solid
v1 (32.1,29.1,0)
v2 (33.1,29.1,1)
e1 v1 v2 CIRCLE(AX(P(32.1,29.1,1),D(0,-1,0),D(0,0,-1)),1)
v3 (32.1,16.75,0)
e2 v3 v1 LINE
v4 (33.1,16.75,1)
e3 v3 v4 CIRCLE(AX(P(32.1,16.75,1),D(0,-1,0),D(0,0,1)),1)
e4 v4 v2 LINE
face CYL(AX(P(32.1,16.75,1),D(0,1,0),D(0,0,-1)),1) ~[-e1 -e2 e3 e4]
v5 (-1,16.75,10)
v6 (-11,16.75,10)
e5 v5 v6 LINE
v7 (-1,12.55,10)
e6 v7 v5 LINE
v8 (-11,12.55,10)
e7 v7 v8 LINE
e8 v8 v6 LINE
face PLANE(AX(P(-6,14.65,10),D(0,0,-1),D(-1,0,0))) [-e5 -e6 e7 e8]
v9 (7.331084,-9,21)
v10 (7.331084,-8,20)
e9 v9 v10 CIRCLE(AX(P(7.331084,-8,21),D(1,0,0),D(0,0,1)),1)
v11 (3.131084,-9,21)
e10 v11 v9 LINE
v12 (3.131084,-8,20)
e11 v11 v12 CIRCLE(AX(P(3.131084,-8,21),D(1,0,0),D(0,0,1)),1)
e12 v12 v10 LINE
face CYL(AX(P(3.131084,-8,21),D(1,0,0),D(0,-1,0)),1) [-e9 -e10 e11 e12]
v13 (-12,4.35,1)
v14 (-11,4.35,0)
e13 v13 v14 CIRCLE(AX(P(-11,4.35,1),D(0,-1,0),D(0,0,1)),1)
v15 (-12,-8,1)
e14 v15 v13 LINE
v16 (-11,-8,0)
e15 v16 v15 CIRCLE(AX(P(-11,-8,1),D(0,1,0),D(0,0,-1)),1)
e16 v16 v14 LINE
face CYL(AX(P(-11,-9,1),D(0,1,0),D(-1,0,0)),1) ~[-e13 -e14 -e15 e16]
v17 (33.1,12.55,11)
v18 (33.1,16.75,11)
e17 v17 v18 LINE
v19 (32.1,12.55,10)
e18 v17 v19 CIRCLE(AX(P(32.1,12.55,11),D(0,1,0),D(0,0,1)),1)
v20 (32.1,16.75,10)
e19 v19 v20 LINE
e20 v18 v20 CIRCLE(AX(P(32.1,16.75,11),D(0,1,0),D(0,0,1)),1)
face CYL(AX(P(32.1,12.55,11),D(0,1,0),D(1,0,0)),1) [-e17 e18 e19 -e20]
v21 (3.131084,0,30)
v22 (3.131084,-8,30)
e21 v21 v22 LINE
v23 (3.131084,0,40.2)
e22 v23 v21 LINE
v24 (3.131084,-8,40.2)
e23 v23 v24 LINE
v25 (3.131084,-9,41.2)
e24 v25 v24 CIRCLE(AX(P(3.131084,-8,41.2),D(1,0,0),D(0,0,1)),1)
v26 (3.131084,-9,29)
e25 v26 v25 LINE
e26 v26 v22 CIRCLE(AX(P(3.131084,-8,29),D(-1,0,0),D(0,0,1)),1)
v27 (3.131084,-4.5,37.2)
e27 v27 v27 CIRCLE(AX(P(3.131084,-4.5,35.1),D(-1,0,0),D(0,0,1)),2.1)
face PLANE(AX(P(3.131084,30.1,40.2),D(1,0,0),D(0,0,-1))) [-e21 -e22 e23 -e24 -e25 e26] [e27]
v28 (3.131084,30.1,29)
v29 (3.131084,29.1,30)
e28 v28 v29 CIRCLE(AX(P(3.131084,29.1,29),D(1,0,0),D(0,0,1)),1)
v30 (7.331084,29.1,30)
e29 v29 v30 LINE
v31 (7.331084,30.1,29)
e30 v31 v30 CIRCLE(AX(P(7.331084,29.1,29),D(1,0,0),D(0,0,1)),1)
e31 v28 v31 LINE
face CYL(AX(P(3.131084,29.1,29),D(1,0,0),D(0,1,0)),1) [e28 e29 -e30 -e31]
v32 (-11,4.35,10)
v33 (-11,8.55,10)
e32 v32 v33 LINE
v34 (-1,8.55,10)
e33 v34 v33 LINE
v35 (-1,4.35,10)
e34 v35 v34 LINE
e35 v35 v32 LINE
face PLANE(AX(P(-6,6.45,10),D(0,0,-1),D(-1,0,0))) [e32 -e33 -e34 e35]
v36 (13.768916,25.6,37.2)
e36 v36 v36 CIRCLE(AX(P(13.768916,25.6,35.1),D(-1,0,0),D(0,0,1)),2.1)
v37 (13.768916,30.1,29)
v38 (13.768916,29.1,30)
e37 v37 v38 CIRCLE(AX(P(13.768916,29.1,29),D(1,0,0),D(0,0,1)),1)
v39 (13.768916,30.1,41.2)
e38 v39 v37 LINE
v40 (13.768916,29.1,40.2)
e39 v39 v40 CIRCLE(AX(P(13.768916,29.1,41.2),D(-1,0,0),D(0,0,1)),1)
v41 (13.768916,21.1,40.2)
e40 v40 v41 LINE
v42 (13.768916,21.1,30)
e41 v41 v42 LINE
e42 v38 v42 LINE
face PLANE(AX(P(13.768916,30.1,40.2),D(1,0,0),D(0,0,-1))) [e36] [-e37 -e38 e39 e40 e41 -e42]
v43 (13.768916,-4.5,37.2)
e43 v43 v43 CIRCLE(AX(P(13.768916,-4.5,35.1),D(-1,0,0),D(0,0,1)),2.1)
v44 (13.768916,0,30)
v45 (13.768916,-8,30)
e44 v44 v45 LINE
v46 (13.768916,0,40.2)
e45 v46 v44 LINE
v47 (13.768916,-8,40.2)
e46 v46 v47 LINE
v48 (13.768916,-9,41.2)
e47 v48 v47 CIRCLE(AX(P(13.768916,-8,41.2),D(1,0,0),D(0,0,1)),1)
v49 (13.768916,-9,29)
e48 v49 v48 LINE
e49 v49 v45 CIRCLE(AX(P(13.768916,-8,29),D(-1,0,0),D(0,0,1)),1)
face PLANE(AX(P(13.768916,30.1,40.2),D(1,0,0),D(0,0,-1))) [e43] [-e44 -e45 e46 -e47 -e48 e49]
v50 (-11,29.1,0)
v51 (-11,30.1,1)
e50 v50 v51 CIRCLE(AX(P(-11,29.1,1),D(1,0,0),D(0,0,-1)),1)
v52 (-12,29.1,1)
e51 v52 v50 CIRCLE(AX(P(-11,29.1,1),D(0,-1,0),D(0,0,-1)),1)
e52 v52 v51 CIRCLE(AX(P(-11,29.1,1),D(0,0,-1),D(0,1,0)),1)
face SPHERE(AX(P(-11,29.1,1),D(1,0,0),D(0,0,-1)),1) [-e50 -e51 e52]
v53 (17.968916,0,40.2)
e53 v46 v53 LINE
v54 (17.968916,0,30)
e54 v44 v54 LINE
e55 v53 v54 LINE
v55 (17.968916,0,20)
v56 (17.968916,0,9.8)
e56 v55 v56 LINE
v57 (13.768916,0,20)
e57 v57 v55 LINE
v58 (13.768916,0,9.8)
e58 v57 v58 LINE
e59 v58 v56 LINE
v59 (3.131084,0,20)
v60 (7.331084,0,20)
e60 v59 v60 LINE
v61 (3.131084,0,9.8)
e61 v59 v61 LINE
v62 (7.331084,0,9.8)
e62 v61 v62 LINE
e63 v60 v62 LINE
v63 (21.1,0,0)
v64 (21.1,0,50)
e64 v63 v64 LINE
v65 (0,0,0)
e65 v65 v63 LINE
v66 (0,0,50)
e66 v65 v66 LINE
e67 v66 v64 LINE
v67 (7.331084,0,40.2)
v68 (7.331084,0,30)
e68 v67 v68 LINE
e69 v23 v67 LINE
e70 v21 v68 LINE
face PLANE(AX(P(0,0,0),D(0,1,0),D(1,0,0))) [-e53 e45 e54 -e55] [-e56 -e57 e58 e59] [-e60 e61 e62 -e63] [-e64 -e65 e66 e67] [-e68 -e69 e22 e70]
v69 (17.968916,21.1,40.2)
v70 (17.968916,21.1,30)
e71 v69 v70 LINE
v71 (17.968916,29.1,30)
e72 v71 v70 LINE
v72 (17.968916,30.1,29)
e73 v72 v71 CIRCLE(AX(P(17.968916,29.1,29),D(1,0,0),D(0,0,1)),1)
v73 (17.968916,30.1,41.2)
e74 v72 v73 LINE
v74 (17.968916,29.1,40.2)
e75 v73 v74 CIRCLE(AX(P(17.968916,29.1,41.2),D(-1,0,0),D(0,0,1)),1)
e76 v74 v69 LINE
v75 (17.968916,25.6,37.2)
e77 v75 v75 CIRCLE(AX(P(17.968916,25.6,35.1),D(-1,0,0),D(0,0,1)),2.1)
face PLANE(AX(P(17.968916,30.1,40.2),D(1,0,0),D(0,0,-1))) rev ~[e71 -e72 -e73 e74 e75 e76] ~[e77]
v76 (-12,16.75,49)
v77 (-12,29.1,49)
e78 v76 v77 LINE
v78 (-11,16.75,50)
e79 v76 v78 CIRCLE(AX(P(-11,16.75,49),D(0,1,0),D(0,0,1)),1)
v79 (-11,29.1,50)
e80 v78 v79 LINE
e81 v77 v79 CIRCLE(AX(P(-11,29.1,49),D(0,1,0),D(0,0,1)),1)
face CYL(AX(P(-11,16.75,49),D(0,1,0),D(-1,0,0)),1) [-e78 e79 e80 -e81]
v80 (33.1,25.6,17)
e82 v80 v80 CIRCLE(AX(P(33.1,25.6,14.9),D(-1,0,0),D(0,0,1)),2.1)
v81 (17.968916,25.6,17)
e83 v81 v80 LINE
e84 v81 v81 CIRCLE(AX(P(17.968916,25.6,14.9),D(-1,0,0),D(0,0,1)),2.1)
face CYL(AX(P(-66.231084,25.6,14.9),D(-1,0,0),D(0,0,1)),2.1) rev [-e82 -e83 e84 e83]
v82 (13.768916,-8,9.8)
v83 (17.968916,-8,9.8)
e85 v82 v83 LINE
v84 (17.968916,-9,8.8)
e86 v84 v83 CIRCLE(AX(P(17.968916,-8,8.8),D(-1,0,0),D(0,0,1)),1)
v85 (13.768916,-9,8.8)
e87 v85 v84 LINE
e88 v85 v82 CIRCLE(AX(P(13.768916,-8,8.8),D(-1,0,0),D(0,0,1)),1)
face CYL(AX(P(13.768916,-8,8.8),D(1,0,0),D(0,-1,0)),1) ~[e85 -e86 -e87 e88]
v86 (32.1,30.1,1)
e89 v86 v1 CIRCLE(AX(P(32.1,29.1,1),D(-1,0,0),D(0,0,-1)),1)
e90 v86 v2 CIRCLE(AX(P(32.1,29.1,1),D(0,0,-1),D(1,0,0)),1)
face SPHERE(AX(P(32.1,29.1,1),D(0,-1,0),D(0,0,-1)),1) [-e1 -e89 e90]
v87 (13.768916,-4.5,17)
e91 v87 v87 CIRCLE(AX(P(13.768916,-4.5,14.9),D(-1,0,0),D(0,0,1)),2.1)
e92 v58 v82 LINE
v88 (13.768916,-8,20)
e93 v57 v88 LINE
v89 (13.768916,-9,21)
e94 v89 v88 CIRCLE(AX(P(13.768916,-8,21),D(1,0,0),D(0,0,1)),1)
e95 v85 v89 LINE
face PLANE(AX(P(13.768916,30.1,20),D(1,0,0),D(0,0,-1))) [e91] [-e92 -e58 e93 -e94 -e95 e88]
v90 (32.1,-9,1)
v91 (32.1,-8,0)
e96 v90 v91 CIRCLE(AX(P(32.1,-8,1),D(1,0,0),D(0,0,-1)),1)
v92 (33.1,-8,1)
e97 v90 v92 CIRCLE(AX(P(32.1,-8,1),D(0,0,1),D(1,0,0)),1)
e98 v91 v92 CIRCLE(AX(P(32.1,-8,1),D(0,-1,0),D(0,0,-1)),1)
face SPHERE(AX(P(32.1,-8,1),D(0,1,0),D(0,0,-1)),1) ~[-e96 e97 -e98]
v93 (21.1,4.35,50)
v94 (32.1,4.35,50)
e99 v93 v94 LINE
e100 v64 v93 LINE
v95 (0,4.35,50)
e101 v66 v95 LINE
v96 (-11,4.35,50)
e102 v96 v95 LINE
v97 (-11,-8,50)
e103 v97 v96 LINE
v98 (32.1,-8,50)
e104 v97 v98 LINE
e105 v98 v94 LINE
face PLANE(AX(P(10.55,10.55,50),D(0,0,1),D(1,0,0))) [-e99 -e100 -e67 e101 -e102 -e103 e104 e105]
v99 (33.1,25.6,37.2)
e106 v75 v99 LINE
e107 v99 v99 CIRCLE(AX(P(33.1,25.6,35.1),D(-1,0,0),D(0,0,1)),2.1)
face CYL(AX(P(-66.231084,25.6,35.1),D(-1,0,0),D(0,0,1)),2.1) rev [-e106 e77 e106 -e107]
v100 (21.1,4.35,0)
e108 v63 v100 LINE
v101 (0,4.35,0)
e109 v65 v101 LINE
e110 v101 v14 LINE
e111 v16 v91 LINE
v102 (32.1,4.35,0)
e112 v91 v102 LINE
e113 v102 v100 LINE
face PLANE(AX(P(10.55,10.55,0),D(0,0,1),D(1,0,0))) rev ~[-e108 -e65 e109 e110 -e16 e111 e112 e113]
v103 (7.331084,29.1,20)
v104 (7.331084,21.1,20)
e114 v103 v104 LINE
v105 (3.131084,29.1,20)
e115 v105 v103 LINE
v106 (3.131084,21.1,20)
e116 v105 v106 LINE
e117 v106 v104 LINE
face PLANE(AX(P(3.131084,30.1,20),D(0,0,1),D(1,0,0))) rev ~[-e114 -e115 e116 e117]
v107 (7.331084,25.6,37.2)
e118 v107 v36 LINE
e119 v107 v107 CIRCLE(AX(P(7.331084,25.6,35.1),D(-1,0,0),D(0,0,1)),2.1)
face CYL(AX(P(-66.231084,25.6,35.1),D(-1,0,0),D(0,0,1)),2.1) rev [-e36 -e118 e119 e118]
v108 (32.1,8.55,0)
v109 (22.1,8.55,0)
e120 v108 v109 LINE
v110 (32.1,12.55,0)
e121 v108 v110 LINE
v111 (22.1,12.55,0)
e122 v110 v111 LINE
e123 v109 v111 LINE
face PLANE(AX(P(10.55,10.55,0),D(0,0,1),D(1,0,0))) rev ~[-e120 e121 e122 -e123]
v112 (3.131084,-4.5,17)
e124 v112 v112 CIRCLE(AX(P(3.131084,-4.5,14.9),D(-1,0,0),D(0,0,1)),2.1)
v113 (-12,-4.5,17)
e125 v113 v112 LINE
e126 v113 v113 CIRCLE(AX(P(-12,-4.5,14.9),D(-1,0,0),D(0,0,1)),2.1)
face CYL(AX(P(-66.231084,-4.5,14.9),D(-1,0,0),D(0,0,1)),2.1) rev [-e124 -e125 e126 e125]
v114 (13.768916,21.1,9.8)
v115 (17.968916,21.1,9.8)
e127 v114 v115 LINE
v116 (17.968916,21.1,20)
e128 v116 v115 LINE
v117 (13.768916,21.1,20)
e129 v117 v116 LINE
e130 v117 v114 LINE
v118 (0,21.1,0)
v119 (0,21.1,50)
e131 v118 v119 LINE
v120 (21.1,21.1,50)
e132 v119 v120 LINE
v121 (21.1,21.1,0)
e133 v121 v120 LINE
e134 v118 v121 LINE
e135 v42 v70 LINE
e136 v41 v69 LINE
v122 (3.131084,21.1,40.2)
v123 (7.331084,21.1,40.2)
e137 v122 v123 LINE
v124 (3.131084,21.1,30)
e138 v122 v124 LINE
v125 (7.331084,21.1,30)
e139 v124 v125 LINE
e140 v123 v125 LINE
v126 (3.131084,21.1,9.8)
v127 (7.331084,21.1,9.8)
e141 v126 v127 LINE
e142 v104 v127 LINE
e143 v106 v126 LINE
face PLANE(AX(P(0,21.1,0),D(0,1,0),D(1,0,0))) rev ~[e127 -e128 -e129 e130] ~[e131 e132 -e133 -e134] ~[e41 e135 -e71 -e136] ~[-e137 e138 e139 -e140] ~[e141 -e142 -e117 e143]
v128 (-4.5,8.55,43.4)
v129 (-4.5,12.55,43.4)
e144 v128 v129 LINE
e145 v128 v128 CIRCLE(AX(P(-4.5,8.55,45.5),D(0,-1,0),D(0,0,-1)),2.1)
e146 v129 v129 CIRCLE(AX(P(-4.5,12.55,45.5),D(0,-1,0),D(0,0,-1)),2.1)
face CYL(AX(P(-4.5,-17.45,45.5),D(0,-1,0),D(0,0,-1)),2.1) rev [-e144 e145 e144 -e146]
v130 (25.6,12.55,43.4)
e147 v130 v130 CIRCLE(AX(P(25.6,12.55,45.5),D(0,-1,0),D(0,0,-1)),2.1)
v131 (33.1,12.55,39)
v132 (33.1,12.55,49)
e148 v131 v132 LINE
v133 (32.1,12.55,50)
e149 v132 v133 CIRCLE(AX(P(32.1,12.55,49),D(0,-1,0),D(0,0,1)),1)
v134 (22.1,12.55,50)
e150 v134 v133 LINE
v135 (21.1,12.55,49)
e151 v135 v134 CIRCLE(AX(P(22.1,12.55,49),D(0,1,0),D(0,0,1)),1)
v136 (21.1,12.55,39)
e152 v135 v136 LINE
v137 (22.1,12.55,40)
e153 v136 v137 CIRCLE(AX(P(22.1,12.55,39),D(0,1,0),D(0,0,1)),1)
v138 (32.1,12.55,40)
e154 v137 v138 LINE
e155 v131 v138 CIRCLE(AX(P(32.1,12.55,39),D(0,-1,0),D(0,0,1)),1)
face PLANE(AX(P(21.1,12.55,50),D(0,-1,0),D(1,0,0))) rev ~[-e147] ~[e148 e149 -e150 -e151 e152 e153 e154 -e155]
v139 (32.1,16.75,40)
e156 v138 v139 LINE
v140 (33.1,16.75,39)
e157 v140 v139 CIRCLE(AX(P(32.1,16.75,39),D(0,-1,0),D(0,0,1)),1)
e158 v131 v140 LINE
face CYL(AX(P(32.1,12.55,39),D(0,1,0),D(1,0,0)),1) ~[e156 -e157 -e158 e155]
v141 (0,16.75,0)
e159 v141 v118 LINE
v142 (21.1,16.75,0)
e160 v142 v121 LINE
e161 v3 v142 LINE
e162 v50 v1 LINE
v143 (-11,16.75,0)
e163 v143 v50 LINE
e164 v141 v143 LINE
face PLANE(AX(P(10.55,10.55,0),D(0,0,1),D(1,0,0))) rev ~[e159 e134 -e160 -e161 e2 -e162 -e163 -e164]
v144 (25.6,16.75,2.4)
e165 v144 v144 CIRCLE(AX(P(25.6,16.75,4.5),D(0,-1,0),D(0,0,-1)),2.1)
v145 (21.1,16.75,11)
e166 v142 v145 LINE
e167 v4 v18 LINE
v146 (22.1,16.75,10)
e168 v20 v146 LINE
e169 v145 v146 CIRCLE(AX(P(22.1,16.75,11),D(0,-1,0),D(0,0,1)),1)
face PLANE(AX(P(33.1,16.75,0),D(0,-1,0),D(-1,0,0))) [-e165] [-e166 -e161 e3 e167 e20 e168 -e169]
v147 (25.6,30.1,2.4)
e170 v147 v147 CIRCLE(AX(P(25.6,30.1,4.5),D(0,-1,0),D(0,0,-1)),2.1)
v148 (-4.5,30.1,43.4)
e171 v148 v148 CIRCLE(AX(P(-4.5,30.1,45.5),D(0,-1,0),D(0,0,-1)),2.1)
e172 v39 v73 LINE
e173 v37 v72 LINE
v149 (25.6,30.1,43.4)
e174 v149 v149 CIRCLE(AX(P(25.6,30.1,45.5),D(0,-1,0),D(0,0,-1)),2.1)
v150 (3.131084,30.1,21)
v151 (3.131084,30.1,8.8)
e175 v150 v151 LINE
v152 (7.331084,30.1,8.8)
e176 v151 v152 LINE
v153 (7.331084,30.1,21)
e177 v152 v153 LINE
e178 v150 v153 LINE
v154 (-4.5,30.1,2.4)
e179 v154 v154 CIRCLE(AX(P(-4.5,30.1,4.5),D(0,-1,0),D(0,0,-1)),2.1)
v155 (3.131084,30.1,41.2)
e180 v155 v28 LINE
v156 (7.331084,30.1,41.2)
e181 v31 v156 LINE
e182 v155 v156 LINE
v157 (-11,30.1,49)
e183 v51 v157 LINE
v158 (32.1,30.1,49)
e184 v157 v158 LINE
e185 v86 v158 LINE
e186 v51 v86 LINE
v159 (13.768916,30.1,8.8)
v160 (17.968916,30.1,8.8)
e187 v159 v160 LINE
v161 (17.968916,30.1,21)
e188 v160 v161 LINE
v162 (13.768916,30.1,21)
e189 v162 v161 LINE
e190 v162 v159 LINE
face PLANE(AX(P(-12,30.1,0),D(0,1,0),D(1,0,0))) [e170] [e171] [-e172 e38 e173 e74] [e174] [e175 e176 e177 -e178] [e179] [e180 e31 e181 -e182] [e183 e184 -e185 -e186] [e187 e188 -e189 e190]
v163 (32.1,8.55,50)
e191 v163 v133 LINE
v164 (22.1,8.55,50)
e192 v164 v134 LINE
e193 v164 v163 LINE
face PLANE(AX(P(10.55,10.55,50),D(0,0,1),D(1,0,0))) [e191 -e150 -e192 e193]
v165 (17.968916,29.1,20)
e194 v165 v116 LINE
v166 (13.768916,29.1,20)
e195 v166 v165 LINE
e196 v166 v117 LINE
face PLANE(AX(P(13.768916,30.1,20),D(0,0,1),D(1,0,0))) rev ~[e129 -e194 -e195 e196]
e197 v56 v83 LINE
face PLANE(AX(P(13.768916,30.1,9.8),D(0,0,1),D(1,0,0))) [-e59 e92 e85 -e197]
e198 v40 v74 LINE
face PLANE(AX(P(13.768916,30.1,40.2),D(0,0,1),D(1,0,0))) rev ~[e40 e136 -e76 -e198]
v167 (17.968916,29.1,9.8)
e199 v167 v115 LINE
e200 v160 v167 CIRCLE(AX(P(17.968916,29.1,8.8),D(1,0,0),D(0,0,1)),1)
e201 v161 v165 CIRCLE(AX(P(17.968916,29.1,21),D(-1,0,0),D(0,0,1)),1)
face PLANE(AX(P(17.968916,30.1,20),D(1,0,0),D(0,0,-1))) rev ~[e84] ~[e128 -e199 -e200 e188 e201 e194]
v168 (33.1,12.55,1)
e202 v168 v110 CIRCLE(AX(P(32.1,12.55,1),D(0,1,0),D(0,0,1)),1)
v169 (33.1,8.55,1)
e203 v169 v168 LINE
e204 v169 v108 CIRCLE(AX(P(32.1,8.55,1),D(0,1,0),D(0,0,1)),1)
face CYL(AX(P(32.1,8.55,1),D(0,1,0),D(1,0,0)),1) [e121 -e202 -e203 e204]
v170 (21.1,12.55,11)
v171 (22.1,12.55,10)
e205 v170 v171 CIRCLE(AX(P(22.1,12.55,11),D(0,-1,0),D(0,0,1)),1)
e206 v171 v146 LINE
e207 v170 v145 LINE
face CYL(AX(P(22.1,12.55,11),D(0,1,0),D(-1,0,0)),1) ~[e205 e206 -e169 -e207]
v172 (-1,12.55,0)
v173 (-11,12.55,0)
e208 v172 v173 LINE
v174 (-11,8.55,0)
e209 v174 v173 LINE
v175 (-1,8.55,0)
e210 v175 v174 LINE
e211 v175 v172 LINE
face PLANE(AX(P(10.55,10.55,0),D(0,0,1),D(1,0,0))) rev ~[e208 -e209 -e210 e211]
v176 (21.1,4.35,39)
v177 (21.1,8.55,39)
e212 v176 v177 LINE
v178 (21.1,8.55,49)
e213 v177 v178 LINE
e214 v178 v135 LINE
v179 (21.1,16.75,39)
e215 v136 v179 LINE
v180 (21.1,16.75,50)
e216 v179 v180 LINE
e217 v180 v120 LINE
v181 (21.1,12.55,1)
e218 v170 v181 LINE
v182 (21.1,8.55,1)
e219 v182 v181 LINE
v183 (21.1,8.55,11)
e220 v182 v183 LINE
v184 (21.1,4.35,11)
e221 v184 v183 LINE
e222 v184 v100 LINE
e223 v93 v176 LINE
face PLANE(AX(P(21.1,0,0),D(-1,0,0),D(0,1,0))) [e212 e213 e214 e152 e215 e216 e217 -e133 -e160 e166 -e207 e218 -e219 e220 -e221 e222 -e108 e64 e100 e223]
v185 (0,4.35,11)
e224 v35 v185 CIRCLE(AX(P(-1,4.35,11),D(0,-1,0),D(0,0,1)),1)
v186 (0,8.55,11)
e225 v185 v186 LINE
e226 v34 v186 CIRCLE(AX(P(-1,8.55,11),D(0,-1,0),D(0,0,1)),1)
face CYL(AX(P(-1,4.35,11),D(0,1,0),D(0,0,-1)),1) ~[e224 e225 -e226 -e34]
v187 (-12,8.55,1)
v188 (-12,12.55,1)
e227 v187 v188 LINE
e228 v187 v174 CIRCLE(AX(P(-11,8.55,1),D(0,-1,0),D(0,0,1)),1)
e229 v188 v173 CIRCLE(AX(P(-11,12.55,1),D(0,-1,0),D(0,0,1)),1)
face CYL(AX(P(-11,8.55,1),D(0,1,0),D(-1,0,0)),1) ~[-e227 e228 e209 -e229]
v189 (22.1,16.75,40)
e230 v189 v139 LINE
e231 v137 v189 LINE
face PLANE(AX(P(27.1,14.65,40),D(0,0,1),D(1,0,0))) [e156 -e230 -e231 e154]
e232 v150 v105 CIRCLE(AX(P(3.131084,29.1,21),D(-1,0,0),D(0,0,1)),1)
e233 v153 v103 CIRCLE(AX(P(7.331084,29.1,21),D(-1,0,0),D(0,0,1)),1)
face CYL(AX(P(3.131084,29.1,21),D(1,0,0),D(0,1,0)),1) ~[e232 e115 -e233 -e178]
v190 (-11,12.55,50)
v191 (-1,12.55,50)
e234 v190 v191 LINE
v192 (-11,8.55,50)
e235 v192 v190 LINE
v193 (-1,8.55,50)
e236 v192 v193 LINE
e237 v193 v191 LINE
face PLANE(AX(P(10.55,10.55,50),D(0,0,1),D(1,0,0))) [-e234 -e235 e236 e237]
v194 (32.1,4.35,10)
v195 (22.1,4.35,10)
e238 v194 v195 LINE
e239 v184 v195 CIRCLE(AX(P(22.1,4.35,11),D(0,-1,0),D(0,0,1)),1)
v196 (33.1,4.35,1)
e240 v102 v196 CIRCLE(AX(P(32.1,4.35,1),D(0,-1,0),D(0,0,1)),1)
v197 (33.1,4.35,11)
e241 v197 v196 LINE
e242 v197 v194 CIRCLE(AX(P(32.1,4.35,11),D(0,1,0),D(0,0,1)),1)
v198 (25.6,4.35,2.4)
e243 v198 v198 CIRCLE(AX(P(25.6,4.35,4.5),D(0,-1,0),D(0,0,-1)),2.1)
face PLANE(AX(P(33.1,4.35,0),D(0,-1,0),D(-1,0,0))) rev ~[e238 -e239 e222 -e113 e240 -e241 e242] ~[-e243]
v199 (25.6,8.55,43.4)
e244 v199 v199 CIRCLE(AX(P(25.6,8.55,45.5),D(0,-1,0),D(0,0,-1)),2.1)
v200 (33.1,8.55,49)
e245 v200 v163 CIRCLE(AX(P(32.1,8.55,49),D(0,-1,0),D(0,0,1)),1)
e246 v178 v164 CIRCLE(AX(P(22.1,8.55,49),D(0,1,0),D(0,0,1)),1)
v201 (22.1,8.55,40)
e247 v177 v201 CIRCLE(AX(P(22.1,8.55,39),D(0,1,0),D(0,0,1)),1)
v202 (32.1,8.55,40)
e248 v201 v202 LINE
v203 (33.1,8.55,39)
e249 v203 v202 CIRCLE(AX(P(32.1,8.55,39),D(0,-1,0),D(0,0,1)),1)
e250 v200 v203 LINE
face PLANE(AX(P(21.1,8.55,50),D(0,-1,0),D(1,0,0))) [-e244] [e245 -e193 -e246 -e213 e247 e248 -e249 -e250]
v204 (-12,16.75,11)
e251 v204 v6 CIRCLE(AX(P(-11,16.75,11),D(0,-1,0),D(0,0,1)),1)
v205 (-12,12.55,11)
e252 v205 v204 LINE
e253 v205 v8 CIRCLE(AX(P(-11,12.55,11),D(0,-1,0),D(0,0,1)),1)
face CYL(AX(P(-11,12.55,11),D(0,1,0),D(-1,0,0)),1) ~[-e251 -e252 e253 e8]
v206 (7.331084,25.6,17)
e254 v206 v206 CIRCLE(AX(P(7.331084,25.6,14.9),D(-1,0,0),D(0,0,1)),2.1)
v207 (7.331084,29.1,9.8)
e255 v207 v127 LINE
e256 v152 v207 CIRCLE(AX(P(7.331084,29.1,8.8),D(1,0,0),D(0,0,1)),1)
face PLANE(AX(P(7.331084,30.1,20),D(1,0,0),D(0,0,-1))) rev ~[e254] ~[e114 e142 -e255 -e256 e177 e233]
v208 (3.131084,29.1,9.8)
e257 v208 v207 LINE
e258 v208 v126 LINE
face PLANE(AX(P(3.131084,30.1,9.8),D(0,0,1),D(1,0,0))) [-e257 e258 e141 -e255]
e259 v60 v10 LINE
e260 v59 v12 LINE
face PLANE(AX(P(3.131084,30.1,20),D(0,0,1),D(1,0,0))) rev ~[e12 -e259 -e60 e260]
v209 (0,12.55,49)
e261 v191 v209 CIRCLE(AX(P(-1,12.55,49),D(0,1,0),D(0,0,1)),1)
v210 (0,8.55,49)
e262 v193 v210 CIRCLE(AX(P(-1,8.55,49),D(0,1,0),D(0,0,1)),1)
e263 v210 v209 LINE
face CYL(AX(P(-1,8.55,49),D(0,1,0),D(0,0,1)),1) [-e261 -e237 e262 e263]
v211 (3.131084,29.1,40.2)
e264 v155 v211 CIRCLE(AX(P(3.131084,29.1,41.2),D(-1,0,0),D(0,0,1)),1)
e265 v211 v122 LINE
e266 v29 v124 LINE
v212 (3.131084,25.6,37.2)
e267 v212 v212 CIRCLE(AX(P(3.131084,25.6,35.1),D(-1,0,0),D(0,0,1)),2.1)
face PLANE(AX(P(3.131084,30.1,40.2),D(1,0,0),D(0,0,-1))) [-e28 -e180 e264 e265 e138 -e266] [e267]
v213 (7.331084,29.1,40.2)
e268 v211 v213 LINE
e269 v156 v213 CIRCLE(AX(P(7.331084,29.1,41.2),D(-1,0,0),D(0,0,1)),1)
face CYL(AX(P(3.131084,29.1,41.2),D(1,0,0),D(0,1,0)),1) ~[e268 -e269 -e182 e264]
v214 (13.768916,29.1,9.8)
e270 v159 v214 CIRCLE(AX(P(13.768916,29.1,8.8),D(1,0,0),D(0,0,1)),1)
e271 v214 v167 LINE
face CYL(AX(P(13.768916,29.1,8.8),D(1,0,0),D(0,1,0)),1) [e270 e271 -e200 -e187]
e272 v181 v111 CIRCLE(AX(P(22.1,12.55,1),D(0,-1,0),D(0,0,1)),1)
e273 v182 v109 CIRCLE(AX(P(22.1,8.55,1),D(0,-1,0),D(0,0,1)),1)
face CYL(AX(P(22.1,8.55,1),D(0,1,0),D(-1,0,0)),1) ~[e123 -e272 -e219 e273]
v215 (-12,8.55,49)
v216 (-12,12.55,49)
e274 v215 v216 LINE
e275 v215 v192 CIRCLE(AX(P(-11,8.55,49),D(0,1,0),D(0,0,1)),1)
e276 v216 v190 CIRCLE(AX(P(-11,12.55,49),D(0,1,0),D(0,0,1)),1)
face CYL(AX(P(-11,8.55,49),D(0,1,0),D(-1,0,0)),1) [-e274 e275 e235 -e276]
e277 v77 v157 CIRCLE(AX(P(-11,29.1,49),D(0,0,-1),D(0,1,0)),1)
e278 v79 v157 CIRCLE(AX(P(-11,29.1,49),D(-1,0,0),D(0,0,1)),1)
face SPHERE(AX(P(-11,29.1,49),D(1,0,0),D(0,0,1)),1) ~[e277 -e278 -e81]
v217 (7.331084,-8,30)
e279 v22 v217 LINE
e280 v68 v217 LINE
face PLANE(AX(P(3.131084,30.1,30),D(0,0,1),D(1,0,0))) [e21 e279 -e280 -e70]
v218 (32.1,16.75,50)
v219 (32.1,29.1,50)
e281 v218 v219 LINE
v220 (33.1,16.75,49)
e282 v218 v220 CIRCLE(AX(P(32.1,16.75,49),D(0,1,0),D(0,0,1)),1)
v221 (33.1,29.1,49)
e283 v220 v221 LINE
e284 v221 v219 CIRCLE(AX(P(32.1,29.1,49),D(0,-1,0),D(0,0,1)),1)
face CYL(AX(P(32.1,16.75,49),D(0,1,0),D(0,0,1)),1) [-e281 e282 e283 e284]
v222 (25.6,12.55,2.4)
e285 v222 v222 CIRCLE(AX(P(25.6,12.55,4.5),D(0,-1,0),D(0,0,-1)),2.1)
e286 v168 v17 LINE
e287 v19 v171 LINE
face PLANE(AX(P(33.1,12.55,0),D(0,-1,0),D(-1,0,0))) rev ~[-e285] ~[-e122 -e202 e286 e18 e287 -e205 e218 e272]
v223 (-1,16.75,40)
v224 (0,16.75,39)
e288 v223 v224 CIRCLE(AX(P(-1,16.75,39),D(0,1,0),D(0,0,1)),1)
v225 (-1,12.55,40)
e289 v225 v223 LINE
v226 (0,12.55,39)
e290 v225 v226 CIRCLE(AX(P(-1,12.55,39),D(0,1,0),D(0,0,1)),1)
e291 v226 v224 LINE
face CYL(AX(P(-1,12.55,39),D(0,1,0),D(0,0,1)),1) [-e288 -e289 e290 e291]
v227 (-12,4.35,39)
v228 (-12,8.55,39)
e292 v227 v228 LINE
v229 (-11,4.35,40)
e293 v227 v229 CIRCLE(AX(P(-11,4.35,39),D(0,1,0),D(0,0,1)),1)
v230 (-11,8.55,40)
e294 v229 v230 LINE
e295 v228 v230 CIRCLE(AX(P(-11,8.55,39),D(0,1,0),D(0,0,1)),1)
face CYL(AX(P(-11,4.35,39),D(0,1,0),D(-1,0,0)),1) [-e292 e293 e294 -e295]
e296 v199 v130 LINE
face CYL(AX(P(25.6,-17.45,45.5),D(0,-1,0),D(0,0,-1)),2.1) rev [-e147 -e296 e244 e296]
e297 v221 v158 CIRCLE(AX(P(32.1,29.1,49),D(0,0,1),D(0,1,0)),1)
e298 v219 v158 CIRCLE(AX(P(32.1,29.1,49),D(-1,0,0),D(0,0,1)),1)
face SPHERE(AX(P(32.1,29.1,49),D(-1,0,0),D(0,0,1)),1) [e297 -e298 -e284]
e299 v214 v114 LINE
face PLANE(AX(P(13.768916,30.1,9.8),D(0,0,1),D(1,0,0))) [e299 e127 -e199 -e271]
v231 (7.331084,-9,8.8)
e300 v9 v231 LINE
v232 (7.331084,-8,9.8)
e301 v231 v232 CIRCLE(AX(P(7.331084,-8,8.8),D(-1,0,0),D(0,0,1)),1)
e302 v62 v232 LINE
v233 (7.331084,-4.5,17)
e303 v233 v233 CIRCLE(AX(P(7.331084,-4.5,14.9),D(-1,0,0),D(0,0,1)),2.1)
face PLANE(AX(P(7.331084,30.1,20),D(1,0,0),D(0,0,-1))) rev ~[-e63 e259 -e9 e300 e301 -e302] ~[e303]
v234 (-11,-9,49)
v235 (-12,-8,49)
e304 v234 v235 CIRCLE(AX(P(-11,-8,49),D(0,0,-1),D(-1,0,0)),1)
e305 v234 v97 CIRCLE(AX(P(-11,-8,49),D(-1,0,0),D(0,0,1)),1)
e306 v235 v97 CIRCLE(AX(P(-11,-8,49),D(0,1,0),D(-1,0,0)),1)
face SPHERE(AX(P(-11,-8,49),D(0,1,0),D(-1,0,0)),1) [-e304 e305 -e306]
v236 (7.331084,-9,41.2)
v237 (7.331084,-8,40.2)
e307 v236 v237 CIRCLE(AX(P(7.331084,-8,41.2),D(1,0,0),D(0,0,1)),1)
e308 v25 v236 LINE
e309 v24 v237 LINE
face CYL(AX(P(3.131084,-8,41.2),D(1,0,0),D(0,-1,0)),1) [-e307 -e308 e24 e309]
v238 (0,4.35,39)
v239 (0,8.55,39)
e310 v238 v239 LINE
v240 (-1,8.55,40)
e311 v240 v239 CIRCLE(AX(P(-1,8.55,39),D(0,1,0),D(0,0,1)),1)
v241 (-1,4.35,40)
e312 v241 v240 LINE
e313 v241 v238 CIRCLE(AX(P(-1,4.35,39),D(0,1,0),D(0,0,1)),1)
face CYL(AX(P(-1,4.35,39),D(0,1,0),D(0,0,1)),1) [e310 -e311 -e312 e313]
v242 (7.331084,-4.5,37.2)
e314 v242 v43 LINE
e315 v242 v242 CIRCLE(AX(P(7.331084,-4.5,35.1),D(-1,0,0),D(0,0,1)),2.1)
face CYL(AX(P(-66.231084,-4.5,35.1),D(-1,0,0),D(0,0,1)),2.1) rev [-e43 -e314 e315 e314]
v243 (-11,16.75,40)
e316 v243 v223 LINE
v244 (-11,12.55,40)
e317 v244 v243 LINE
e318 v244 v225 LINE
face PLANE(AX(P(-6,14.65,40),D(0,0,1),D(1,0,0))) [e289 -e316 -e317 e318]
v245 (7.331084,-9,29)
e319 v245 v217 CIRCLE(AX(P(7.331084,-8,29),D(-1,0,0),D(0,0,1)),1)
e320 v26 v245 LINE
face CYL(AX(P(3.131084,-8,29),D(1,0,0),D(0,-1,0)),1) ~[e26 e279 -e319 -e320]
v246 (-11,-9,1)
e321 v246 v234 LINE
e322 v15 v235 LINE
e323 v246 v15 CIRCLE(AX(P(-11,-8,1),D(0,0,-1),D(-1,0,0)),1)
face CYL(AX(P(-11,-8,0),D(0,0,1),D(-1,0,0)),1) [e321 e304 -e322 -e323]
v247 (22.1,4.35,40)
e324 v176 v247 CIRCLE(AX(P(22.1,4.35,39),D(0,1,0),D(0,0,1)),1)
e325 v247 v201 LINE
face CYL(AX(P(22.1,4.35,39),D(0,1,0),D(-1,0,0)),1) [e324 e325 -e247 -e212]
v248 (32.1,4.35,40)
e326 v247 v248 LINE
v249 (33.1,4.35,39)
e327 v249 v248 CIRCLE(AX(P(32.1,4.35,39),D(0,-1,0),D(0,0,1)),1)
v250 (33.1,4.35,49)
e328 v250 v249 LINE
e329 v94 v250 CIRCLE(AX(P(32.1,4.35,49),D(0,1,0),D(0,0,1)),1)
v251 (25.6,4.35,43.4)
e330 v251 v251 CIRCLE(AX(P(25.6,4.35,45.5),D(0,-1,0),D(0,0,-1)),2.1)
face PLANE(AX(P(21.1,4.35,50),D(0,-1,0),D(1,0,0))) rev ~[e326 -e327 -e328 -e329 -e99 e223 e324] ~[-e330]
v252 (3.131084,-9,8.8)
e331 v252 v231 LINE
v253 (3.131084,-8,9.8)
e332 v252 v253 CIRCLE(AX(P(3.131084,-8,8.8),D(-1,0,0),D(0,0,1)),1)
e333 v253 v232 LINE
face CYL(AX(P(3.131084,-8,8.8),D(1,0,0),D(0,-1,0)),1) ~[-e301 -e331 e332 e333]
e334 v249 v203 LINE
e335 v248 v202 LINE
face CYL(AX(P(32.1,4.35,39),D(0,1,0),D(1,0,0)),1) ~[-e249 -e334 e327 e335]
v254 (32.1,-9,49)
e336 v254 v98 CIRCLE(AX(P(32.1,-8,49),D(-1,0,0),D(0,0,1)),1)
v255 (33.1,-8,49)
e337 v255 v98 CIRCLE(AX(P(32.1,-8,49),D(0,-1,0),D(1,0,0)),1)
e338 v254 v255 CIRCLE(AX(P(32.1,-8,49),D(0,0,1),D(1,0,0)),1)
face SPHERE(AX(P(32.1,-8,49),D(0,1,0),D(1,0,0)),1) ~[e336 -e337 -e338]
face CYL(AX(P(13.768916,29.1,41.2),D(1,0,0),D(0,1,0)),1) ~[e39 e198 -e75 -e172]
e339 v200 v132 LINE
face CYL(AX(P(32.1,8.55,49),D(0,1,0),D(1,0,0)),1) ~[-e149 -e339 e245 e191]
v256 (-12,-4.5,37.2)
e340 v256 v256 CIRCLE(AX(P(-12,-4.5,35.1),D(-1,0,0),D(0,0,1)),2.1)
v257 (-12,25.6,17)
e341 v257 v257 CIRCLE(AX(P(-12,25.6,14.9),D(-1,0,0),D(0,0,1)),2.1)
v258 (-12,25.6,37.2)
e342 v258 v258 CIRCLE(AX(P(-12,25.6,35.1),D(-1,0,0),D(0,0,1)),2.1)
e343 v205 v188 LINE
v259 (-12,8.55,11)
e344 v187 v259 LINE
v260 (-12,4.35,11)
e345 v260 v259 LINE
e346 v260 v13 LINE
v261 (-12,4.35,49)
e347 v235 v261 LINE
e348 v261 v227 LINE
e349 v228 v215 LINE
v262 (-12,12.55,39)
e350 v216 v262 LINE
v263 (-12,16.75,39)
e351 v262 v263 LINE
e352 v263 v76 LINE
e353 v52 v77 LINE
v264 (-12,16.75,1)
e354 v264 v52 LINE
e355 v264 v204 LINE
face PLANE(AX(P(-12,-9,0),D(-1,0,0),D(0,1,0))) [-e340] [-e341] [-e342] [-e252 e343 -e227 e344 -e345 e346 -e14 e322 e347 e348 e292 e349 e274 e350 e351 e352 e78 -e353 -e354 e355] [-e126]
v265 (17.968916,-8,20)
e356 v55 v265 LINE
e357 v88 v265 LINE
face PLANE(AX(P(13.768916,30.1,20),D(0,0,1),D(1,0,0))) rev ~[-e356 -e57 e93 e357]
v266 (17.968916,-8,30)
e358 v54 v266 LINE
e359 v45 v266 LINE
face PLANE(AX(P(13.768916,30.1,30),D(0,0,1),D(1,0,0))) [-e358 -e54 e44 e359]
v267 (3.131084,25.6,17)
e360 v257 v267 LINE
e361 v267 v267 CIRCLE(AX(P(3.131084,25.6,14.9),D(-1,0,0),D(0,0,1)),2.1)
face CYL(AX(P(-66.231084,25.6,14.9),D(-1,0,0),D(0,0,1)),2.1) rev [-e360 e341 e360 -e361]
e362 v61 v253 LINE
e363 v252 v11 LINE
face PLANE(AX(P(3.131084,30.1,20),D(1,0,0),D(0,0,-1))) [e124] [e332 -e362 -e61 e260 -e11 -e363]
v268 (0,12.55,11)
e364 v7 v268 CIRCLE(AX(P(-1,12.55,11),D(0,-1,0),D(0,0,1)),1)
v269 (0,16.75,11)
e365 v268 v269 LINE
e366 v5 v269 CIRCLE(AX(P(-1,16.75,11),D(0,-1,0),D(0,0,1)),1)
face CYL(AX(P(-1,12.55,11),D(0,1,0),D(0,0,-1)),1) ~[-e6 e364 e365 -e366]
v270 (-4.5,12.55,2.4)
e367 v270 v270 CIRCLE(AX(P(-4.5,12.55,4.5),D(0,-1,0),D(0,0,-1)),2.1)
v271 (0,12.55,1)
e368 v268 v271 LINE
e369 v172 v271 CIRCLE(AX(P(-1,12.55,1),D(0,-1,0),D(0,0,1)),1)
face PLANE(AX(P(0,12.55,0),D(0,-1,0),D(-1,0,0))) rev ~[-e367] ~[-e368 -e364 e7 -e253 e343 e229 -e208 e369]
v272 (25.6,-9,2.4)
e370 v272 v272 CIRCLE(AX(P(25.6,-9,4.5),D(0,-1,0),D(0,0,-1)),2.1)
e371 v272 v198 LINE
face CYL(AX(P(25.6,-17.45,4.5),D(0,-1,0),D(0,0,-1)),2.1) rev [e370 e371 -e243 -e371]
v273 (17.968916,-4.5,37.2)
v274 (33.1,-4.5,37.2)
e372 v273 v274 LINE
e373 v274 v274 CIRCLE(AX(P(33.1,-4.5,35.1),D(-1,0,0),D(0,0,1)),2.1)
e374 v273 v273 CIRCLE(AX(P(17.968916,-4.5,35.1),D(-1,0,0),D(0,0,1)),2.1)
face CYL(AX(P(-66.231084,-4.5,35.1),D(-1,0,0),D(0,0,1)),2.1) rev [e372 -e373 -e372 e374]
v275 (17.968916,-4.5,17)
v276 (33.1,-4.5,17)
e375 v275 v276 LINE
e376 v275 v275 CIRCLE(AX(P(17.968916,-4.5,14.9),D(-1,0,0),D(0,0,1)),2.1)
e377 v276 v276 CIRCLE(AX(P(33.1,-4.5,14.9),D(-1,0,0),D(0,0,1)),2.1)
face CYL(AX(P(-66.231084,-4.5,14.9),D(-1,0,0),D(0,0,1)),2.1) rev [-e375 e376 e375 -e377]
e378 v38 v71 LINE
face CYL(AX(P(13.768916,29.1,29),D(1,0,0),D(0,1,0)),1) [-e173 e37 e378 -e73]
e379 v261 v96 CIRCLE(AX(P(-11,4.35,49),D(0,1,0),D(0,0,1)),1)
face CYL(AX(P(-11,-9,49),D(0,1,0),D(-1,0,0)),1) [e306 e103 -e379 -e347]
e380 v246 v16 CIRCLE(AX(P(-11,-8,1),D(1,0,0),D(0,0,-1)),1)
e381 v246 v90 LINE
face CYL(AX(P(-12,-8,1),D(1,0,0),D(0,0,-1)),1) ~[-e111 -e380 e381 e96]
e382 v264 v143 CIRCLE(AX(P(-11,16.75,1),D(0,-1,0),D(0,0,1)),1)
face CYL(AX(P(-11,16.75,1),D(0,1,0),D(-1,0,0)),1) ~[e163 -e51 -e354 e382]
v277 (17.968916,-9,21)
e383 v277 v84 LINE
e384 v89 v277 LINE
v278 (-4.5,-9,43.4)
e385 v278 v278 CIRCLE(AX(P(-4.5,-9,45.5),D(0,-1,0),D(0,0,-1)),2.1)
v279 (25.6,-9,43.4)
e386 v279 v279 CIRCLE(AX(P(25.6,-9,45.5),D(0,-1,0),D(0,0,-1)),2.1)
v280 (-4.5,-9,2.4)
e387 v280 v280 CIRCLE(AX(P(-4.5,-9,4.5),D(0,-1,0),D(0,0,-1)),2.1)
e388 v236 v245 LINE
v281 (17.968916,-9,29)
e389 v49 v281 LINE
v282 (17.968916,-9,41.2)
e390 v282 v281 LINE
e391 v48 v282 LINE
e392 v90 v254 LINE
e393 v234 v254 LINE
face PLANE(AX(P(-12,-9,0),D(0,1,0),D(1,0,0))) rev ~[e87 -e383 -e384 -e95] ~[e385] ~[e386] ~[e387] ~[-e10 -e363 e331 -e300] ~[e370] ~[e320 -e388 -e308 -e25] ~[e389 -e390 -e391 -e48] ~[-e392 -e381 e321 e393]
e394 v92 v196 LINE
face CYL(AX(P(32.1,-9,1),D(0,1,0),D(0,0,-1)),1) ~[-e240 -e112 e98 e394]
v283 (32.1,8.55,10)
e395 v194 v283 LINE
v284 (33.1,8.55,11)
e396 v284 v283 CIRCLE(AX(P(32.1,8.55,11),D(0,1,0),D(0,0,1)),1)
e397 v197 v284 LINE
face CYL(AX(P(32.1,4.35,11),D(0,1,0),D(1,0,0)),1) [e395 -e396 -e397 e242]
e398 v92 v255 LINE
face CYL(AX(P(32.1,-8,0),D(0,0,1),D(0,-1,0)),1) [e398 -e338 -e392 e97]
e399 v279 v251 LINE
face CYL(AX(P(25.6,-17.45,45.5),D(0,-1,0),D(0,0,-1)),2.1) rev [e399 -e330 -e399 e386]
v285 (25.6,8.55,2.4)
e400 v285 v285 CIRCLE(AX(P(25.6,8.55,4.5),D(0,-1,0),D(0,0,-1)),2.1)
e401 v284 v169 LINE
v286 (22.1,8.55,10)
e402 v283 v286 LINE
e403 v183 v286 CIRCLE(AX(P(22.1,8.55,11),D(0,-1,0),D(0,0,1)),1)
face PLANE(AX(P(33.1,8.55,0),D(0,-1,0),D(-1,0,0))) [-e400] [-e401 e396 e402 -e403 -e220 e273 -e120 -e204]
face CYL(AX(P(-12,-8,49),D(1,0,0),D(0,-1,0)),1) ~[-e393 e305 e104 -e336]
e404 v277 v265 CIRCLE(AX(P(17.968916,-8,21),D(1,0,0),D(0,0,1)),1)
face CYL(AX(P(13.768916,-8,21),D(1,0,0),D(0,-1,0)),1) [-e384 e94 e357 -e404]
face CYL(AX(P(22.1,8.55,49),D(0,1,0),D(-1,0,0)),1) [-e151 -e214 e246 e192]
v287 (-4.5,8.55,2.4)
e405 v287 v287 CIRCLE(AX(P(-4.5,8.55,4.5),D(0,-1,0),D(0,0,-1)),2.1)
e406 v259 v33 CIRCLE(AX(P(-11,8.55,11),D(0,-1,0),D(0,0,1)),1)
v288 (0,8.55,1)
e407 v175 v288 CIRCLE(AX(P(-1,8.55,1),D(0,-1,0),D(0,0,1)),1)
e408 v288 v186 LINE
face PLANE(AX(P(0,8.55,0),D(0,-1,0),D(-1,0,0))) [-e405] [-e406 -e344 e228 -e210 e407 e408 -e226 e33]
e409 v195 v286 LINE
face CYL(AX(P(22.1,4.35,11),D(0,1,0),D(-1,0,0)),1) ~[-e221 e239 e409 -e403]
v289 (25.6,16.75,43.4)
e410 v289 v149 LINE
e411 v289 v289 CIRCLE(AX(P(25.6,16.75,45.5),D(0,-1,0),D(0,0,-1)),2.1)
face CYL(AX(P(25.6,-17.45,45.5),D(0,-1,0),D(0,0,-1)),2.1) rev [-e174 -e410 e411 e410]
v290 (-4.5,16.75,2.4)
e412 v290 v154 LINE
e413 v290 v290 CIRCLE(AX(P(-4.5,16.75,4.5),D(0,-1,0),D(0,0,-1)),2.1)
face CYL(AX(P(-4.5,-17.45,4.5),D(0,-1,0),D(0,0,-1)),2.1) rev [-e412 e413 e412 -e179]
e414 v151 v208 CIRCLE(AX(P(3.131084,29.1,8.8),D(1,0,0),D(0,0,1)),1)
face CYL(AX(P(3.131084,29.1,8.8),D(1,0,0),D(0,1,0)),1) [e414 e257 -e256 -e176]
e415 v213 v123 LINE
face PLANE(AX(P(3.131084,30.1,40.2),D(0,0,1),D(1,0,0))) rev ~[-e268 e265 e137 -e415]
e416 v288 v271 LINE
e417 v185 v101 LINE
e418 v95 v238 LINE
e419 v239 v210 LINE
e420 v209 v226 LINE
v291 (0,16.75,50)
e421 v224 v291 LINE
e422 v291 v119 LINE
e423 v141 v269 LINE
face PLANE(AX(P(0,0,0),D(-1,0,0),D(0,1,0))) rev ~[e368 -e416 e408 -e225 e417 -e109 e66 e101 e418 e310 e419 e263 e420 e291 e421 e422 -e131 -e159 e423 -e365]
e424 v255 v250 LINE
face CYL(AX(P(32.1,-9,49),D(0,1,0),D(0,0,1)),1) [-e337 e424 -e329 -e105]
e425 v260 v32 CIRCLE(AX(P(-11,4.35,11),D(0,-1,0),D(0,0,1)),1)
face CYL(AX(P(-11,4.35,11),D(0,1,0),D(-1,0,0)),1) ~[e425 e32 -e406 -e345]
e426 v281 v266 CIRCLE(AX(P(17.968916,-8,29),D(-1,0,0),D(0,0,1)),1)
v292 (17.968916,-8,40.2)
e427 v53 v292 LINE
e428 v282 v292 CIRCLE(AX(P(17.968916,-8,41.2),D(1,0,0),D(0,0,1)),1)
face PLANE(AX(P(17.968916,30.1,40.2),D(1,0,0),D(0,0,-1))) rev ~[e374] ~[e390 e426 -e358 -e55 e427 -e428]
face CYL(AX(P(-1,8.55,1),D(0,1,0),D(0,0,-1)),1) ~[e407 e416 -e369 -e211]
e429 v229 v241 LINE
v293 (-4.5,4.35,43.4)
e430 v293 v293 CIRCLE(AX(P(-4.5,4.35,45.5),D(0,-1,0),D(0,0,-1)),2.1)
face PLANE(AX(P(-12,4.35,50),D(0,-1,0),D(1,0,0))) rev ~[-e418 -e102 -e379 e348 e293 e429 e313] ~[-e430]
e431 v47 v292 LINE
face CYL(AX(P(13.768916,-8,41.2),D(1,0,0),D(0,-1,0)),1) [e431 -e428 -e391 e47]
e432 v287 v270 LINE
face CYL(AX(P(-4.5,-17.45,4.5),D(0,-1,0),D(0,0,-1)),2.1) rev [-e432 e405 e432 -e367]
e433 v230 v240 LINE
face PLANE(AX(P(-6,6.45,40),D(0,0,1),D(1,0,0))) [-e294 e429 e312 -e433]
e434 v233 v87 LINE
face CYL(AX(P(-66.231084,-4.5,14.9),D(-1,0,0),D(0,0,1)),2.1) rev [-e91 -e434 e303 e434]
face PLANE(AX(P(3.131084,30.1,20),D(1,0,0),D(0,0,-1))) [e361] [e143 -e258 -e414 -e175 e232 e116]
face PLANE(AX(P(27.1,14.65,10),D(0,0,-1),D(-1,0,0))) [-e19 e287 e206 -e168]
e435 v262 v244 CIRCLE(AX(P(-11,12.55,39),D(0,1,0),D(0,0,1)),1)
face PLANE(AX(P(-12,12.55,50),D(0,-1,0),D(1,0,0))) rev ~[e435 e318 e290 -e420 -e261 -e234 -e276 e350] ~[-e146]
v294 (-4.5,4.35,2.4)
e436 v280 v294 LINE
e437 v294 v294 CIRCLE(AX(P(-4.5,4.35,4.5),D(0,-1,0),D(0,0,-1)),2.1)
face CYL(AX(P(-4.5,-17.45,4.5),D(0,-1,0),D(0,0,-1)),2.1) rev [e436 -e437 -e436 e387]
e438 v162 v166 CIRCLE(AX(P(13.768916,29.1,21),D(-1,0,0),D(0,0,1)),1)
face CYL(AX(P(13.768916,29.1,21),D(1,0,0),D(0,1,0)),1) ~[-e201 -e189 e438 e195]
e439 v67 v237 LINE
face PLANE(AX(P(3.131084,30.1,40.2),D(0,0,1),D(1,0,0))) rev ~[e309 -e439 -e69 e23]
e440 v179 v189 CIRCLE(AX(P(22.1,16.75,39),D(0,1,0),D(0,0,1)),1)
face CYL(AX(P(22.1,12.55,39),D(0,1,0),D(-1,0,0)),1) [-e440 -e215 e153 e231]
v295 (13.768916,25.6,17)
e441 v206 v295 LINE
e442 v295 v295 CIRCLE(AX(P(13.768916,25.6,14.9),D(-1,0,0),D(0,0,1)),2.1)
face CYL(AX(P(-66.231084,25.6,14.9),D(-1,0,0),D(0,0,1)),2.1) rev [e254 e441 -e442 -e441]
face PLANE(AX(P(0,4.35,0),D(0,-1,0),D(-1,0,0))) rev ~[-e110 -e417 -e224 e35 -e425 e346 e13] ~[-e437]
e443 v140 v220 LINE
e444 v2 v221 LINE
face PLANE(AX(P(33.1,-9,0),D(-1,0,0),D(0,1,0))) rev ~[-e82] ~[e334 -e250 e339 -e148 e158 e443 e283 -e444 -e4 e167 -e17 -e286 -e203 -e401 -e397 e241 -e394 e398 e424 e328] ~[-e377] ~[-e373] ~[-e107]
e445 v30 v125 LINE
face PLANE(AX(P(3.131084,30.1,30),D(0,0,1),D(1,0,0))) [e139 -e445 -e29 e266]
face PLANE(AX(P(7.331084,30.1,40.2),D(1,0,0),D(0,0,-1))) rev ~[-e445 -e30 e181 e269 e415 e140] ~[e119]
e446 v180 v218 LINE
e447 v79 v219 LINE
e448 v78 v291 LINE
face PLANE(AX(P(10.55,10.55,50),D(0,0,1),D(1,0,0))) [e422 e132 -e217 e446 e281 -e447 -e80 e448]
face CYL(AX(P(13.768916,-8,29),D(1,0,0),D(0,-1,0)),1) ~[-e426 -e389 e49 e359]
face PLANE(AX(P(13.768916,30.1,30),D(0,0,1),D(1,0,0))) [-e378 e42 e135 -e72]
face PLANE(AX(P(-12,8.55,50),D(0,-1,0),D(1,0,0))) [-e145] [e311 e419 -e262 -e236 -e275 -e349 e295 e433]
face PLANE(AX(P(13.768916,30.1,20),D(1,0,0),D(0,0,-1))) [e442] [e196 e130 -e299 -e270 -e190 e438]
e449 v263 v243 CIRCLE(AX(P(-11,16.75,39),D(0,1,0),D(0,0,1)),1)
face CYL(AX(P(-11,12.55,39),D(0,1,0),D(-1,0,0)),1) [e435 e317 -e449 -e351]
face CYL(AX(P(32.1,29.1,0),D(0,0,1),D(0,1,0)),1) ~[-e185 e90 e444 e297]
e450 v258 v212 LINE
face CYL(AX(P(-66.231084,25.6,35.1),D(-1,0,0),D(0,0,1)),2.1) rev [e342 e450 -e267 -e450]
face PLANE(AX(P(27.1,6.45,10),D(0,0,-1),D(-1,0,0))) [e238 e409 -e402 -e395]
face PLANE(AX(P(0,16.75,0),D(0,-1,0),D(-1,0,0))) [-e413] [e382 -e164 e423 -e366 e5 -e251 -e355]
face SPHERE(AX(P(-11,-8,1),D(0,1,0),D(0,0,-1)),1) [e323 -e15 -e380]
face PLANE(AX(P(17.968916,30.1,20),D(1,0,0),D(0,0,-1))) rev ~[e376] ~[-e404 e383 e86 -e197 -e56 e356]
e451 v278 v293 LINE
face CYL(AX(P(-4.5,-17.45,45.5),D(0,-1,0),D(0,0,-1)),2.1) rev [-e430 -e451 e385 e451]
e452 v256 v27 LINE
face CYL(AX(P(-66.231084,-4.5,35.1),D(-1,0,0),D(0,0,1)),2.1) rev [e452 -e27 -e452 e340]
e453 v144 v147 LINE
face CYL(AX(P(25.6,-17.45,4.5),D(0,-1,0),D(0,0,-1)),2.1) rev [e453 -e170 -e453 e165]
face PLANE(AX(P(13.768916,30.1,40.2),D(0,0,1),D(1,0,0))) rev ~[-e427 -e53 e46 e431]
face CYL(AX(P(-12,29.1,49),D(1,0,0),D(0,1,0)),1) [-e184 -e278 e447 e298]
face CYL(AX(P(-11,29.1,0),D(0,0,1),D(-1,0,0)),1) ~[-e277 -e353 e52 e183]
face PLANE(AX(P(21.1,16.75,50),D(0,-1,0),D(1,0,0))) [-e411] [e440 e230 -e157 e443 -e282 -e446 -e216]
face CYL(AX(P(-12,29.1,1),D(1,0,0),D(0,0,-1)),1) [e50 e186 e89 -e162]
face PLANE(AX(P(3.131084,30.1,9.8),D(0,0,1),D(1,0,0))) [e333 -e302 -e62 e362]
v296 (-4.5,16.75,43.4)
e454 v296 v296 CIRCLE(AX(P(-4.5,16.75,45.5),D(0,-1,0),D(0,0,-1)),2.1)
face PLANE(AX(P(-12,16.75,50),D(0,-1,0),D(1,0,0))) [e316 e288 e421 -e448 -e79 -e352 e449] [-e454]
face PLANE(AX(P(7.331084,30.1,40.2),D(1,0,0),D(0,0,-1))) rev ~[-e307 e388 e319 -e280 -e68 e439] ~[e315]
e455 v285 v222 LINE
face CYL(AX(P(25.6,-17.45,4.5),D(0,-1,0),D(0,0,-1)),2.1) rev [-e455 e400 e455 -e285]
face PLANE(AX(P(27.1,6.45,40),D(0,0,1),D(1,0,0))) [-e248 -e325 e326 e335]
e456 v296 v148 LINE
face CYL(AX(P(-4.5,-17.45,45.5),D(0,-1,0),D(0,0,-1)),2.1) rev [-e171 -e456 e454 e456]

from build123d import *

# Parameters (mm, degrees)
SKETCH_1_W               = 45.1
SKETCH_1_H               = 39.1
SKETCH_1_W_2             = 21.1
SKETCH_1_H_2             = 21.1
EXTRUDE_1_DEPTH          = 50
SKETCH_2_W               = 12
SKETCH_2_H               = 4.2
CUT_EXTRUDE_1_DEPTH      = 10
CUT_EXTRUDE_2_DEPTH      = 30
CUT_EXTRUDE_2_DEPTH_BACK = 30
SKETCH_3_R               = 2.1
SKETCH_4_W               = 12
SKETCH_4_H               = 4.2
CUT_EXTRUDE_3_DEPTH      = 10
CUT_EXTRUDE_4_DEPTH      = 30
CUT_EXTRUDE_4_DEPTH_BACK = 30
SKETCH_5_R               = 2.1
SKETCH_6_W               = 4.2
SKETCH_6_H               = 10.2
CUT_EXTRUDE_5_DEPTH      = 80
CUT_EXTRUDE_6_DEPTH      = 80
CUT_EXTRUDE_6_DEPTH_BACK = 80
SKETCH_7_R               = 2.1
FILLET_1_R               = 1


with BuildPart() as part:
    # 草图1 → 凸台-拉伸1 (new body)
    with BuildSketch(Plane.XY):
        with Locations((10.55, 10.55)):
            Rectangle(SKETCH_1_W, SKETCH_1_H)
        with Locations((10.55, 10.55)):
            Rectangle(SKETCH_1_W_2, SKETCH_1_H_2, mode=Mode.SUBTRACT)
    extrude(amount=EXTRUDE_1_DEPTH)

    # 草图2 → 切除-拉伸1 (cut)
    with BuildSketch(Plane.XY.offset(50)):
        with Locations((27.1, 14.65)):
            Rectangle(SKETCH_2_W, SKETCH_2_H)
        with Locations((27.1, 6.45)):
            Rectangle(SKETCH_2_W, SKETCH_2_H)
        with Locations((-6, 6.45)):
            Rectangle(SKETCH_2_W, SKETCH_2_H)
        with Locations((-6, 14.65)):
            Rectangle(SKETCH_2_W, SKETCH_2_H)
    extrude(amount=-CUT_EXTRUDE_1_DEPTH, mode=Mode.SUBTRACT)

    # 草图3 → 切除-拉伸2 (cut, two sides: drawn at the far end of the back side and taken through both)
    with BuildSketch(Plane(origin=(0, 12.55, 0), x_dir=(1, 0, 0), z_dir=(0, 1, 0)).offset(-CUT_EXTRUDE_2_DEPTH_BACK)):
        with Locations(Location((25.6, -45.5, 0), (0, 0, 90))):
            Circle(SKETCH_3_R)
        with Locations(Location((-4.5, -45.5, 0), (0, 0, 90))):
            Circle(SKETCH_3_R)
    extrude(amount=CUT_EXTRUDE_2_DEPTH + CUT_EXTRUDE_2_DEPTH_BACK, mode=Mode.SUBTRACT)

    # 草图4 → 切除-拉伸3 (cut)
    with BuildSketch(Plane(origin=(0, 0, 0), x_dir=(-1, 0, 0), z_dir=(0, 0, -1))):
        with Locations((6, 6.45)):
            Rectangle(SKETCH_4_W, SKETCH_4_H)
        with Locations((6, 14.65)):
            Rectangle(SKETCH_4_W, SKETCH_4_H)
        with Locations((-27.1, 6.45)):
            Rectangle(SKETCH_4_W, SKETCH_4_H)
        with Locations((-27.1, 14.65)):
            Rectangle(SKETCH_4_W, SKETCH_4_H)
    extrude(amount=-CUT_EXTRUDE_3_DEPTH, mode=Mode.SUBTRACT)

    # 草图5 → 切除-拉伸4 (cut, two sides: drawn at the far end of the back side and taken through both)
    with BuildSketch(Plane(origin=(0, 12.55, 0), x_dir=(1, 0, 0), z_dir=(0, 1, 0)).offset(-CUT_EXTRUDE_4_DEPTH_BACK)):
        with Locations(Location((25.6, -4.5, 0), (0, 0, 90))):
            Circle(SKETCH_5_R)
        with Locations(Location((-4.5, -4.5, 0), (0, 0, 90))):
            Circle(SKETCH_5_R)
    extrude(amount=CUT_EXTRUDE_4_DEPTH + CUT_EXTRUDE_4_DEPTH_BACK, mode=Mode.SUBTRACT)

    # 草图6 → 切除-拉伸5 (cut)
    with BuildSketch(Plane(origin=(0, 30.1, 0), x_dir=(1, 0, 0), z_dir=(0, 1, 0))):
        with Locations((15.868916464, -14.9)):
            Rectangle(SKETCH_6_W, SKETCH_6_H)
        with Locations((5.231083536, -14.9)):
            Rectangle(SKETCH_6_W, SKETCH_6_H)
        with Locations((5.231083536, -35.1)):
            Rectangle(SKETCH_6_W, SKETCH_6_H)
        with Locations((15.868916464, -35.1)):
            Rectangle(SKETCH_6_W, SKETCH_6_H)
    extrude(amount=-CUT_EXTRUDE_5_DEPTH, mode=Mode.SUBTRACT)

    # 草图7 → 切除-拉伸6 (cut, two sides: drawn at the far end of the back side and taken through both)
    with BuildSketch(Plane(origin=(13.768916464, 0, 0), x_dir=(0, 0, -1), z_dir=(1, 0, 0)).offset(-CUT_EXTRUDE_6_DEPTH_BACK)):
        with Locations(Location((-35.1, 25.6, 0), (0, 0, 180))):
            Circle(SKETCH_7_R)
        with Locations(Location((-14.9, 25.6, 0), (0, 0, 180))):
            Circle(SKETCH_7_R)
        with Locations(Location((-14.9, -4.5, 0), (0, 0, 180))):
            Circle(SKETCH_7_R)
        with Locations(Location((-35.1, -4.5, 0), (0, 0, 180))):
            Circle(SKETCH_7_R)
    extrude(amount=CUT_EXTRUDE_6_DEPTH + CUT_EXTRUDE_6_DEPTH_BACK, mode=Mode.SUBTRACT)

    # 圆角1
    fillet_1_edges = [part.edges().sort_by_distance(p)[0] for p in [
        (21.1, 10.55, 0),
        (0, 10.55, 0),
        (33.1, 10.55, 0),
        (33.1, 23.425, 0),
        (-12, 10.55, 0),
        (-12, -2.325, 0),
        (33.1, -2.325, 50),
        (0, 14.65, 10),
        (-12, 14.65, 10),
        (21.1, 6.45, 10),
        (33.1, 6.45, 10),
        (21.1, 14.65, 10),
        (33.1, 14.65, 10),
        (0, 6.45, 10),
        (-12, 6.45, 10),
        (10.55, 30.1, 50),
        (15.868916464, -9, 30),
        (15.868916464, -9, 40.2),
        (15.868916464, 30.1, 40.2),
        (15.868916464, 30.1, 30),
        (5.231083536, -9, 40.2),
        (5.231083536, -9, 30),
        (5.231083536, 30.1, 40.2),
        (5.231083536, 30.1, 30),
        (5.231083536, -9, 20),
        (5.231083536, -9, 9.8),
        (5.231083536, 30.1, 9.8),
        (5.231083536, 30.1, 20),
        (15.868916464, -9, 9.8),
        (15.868916464, -9, 20),
        (15.868916464, 30.1, 20),
        (15.868916464, 30.1, 9.8),
        (21.1, 10.55, 50),
        (0, 10.55, 50),
        (33.1, 10.55, 50),
        (33.1, 23.425, 50),
        (-12, 10.55, 50),
        (-12, -2.325, 50),
        (0, 14.65, 40),
        (-12, 14.65, 40),
        (-12, 23.425, 50),
        (10.55, 30.1, 0),
        (33.1, -2.325, 0),
        (0, 6.45, 40),
        (-12, 6.45, 40),
        (10.55, -9, 0),
        (21.1, 6.45, 40),
        (33.1, 6.45, 40),
        (-12, 23.425, 0),
        (21.1, 14.65, 40),
        (33.1, 14.65, 40),
        (-12, 30.1, 25),
        (33.1, 30.1, 25),
        (33.1, -9, 25),
        (-12, -9, 25),
        (10.55, -9, 50),
    ]]
    fillet(fillet_1_edges, radius=FILLET_1_R)


solid = part.part
